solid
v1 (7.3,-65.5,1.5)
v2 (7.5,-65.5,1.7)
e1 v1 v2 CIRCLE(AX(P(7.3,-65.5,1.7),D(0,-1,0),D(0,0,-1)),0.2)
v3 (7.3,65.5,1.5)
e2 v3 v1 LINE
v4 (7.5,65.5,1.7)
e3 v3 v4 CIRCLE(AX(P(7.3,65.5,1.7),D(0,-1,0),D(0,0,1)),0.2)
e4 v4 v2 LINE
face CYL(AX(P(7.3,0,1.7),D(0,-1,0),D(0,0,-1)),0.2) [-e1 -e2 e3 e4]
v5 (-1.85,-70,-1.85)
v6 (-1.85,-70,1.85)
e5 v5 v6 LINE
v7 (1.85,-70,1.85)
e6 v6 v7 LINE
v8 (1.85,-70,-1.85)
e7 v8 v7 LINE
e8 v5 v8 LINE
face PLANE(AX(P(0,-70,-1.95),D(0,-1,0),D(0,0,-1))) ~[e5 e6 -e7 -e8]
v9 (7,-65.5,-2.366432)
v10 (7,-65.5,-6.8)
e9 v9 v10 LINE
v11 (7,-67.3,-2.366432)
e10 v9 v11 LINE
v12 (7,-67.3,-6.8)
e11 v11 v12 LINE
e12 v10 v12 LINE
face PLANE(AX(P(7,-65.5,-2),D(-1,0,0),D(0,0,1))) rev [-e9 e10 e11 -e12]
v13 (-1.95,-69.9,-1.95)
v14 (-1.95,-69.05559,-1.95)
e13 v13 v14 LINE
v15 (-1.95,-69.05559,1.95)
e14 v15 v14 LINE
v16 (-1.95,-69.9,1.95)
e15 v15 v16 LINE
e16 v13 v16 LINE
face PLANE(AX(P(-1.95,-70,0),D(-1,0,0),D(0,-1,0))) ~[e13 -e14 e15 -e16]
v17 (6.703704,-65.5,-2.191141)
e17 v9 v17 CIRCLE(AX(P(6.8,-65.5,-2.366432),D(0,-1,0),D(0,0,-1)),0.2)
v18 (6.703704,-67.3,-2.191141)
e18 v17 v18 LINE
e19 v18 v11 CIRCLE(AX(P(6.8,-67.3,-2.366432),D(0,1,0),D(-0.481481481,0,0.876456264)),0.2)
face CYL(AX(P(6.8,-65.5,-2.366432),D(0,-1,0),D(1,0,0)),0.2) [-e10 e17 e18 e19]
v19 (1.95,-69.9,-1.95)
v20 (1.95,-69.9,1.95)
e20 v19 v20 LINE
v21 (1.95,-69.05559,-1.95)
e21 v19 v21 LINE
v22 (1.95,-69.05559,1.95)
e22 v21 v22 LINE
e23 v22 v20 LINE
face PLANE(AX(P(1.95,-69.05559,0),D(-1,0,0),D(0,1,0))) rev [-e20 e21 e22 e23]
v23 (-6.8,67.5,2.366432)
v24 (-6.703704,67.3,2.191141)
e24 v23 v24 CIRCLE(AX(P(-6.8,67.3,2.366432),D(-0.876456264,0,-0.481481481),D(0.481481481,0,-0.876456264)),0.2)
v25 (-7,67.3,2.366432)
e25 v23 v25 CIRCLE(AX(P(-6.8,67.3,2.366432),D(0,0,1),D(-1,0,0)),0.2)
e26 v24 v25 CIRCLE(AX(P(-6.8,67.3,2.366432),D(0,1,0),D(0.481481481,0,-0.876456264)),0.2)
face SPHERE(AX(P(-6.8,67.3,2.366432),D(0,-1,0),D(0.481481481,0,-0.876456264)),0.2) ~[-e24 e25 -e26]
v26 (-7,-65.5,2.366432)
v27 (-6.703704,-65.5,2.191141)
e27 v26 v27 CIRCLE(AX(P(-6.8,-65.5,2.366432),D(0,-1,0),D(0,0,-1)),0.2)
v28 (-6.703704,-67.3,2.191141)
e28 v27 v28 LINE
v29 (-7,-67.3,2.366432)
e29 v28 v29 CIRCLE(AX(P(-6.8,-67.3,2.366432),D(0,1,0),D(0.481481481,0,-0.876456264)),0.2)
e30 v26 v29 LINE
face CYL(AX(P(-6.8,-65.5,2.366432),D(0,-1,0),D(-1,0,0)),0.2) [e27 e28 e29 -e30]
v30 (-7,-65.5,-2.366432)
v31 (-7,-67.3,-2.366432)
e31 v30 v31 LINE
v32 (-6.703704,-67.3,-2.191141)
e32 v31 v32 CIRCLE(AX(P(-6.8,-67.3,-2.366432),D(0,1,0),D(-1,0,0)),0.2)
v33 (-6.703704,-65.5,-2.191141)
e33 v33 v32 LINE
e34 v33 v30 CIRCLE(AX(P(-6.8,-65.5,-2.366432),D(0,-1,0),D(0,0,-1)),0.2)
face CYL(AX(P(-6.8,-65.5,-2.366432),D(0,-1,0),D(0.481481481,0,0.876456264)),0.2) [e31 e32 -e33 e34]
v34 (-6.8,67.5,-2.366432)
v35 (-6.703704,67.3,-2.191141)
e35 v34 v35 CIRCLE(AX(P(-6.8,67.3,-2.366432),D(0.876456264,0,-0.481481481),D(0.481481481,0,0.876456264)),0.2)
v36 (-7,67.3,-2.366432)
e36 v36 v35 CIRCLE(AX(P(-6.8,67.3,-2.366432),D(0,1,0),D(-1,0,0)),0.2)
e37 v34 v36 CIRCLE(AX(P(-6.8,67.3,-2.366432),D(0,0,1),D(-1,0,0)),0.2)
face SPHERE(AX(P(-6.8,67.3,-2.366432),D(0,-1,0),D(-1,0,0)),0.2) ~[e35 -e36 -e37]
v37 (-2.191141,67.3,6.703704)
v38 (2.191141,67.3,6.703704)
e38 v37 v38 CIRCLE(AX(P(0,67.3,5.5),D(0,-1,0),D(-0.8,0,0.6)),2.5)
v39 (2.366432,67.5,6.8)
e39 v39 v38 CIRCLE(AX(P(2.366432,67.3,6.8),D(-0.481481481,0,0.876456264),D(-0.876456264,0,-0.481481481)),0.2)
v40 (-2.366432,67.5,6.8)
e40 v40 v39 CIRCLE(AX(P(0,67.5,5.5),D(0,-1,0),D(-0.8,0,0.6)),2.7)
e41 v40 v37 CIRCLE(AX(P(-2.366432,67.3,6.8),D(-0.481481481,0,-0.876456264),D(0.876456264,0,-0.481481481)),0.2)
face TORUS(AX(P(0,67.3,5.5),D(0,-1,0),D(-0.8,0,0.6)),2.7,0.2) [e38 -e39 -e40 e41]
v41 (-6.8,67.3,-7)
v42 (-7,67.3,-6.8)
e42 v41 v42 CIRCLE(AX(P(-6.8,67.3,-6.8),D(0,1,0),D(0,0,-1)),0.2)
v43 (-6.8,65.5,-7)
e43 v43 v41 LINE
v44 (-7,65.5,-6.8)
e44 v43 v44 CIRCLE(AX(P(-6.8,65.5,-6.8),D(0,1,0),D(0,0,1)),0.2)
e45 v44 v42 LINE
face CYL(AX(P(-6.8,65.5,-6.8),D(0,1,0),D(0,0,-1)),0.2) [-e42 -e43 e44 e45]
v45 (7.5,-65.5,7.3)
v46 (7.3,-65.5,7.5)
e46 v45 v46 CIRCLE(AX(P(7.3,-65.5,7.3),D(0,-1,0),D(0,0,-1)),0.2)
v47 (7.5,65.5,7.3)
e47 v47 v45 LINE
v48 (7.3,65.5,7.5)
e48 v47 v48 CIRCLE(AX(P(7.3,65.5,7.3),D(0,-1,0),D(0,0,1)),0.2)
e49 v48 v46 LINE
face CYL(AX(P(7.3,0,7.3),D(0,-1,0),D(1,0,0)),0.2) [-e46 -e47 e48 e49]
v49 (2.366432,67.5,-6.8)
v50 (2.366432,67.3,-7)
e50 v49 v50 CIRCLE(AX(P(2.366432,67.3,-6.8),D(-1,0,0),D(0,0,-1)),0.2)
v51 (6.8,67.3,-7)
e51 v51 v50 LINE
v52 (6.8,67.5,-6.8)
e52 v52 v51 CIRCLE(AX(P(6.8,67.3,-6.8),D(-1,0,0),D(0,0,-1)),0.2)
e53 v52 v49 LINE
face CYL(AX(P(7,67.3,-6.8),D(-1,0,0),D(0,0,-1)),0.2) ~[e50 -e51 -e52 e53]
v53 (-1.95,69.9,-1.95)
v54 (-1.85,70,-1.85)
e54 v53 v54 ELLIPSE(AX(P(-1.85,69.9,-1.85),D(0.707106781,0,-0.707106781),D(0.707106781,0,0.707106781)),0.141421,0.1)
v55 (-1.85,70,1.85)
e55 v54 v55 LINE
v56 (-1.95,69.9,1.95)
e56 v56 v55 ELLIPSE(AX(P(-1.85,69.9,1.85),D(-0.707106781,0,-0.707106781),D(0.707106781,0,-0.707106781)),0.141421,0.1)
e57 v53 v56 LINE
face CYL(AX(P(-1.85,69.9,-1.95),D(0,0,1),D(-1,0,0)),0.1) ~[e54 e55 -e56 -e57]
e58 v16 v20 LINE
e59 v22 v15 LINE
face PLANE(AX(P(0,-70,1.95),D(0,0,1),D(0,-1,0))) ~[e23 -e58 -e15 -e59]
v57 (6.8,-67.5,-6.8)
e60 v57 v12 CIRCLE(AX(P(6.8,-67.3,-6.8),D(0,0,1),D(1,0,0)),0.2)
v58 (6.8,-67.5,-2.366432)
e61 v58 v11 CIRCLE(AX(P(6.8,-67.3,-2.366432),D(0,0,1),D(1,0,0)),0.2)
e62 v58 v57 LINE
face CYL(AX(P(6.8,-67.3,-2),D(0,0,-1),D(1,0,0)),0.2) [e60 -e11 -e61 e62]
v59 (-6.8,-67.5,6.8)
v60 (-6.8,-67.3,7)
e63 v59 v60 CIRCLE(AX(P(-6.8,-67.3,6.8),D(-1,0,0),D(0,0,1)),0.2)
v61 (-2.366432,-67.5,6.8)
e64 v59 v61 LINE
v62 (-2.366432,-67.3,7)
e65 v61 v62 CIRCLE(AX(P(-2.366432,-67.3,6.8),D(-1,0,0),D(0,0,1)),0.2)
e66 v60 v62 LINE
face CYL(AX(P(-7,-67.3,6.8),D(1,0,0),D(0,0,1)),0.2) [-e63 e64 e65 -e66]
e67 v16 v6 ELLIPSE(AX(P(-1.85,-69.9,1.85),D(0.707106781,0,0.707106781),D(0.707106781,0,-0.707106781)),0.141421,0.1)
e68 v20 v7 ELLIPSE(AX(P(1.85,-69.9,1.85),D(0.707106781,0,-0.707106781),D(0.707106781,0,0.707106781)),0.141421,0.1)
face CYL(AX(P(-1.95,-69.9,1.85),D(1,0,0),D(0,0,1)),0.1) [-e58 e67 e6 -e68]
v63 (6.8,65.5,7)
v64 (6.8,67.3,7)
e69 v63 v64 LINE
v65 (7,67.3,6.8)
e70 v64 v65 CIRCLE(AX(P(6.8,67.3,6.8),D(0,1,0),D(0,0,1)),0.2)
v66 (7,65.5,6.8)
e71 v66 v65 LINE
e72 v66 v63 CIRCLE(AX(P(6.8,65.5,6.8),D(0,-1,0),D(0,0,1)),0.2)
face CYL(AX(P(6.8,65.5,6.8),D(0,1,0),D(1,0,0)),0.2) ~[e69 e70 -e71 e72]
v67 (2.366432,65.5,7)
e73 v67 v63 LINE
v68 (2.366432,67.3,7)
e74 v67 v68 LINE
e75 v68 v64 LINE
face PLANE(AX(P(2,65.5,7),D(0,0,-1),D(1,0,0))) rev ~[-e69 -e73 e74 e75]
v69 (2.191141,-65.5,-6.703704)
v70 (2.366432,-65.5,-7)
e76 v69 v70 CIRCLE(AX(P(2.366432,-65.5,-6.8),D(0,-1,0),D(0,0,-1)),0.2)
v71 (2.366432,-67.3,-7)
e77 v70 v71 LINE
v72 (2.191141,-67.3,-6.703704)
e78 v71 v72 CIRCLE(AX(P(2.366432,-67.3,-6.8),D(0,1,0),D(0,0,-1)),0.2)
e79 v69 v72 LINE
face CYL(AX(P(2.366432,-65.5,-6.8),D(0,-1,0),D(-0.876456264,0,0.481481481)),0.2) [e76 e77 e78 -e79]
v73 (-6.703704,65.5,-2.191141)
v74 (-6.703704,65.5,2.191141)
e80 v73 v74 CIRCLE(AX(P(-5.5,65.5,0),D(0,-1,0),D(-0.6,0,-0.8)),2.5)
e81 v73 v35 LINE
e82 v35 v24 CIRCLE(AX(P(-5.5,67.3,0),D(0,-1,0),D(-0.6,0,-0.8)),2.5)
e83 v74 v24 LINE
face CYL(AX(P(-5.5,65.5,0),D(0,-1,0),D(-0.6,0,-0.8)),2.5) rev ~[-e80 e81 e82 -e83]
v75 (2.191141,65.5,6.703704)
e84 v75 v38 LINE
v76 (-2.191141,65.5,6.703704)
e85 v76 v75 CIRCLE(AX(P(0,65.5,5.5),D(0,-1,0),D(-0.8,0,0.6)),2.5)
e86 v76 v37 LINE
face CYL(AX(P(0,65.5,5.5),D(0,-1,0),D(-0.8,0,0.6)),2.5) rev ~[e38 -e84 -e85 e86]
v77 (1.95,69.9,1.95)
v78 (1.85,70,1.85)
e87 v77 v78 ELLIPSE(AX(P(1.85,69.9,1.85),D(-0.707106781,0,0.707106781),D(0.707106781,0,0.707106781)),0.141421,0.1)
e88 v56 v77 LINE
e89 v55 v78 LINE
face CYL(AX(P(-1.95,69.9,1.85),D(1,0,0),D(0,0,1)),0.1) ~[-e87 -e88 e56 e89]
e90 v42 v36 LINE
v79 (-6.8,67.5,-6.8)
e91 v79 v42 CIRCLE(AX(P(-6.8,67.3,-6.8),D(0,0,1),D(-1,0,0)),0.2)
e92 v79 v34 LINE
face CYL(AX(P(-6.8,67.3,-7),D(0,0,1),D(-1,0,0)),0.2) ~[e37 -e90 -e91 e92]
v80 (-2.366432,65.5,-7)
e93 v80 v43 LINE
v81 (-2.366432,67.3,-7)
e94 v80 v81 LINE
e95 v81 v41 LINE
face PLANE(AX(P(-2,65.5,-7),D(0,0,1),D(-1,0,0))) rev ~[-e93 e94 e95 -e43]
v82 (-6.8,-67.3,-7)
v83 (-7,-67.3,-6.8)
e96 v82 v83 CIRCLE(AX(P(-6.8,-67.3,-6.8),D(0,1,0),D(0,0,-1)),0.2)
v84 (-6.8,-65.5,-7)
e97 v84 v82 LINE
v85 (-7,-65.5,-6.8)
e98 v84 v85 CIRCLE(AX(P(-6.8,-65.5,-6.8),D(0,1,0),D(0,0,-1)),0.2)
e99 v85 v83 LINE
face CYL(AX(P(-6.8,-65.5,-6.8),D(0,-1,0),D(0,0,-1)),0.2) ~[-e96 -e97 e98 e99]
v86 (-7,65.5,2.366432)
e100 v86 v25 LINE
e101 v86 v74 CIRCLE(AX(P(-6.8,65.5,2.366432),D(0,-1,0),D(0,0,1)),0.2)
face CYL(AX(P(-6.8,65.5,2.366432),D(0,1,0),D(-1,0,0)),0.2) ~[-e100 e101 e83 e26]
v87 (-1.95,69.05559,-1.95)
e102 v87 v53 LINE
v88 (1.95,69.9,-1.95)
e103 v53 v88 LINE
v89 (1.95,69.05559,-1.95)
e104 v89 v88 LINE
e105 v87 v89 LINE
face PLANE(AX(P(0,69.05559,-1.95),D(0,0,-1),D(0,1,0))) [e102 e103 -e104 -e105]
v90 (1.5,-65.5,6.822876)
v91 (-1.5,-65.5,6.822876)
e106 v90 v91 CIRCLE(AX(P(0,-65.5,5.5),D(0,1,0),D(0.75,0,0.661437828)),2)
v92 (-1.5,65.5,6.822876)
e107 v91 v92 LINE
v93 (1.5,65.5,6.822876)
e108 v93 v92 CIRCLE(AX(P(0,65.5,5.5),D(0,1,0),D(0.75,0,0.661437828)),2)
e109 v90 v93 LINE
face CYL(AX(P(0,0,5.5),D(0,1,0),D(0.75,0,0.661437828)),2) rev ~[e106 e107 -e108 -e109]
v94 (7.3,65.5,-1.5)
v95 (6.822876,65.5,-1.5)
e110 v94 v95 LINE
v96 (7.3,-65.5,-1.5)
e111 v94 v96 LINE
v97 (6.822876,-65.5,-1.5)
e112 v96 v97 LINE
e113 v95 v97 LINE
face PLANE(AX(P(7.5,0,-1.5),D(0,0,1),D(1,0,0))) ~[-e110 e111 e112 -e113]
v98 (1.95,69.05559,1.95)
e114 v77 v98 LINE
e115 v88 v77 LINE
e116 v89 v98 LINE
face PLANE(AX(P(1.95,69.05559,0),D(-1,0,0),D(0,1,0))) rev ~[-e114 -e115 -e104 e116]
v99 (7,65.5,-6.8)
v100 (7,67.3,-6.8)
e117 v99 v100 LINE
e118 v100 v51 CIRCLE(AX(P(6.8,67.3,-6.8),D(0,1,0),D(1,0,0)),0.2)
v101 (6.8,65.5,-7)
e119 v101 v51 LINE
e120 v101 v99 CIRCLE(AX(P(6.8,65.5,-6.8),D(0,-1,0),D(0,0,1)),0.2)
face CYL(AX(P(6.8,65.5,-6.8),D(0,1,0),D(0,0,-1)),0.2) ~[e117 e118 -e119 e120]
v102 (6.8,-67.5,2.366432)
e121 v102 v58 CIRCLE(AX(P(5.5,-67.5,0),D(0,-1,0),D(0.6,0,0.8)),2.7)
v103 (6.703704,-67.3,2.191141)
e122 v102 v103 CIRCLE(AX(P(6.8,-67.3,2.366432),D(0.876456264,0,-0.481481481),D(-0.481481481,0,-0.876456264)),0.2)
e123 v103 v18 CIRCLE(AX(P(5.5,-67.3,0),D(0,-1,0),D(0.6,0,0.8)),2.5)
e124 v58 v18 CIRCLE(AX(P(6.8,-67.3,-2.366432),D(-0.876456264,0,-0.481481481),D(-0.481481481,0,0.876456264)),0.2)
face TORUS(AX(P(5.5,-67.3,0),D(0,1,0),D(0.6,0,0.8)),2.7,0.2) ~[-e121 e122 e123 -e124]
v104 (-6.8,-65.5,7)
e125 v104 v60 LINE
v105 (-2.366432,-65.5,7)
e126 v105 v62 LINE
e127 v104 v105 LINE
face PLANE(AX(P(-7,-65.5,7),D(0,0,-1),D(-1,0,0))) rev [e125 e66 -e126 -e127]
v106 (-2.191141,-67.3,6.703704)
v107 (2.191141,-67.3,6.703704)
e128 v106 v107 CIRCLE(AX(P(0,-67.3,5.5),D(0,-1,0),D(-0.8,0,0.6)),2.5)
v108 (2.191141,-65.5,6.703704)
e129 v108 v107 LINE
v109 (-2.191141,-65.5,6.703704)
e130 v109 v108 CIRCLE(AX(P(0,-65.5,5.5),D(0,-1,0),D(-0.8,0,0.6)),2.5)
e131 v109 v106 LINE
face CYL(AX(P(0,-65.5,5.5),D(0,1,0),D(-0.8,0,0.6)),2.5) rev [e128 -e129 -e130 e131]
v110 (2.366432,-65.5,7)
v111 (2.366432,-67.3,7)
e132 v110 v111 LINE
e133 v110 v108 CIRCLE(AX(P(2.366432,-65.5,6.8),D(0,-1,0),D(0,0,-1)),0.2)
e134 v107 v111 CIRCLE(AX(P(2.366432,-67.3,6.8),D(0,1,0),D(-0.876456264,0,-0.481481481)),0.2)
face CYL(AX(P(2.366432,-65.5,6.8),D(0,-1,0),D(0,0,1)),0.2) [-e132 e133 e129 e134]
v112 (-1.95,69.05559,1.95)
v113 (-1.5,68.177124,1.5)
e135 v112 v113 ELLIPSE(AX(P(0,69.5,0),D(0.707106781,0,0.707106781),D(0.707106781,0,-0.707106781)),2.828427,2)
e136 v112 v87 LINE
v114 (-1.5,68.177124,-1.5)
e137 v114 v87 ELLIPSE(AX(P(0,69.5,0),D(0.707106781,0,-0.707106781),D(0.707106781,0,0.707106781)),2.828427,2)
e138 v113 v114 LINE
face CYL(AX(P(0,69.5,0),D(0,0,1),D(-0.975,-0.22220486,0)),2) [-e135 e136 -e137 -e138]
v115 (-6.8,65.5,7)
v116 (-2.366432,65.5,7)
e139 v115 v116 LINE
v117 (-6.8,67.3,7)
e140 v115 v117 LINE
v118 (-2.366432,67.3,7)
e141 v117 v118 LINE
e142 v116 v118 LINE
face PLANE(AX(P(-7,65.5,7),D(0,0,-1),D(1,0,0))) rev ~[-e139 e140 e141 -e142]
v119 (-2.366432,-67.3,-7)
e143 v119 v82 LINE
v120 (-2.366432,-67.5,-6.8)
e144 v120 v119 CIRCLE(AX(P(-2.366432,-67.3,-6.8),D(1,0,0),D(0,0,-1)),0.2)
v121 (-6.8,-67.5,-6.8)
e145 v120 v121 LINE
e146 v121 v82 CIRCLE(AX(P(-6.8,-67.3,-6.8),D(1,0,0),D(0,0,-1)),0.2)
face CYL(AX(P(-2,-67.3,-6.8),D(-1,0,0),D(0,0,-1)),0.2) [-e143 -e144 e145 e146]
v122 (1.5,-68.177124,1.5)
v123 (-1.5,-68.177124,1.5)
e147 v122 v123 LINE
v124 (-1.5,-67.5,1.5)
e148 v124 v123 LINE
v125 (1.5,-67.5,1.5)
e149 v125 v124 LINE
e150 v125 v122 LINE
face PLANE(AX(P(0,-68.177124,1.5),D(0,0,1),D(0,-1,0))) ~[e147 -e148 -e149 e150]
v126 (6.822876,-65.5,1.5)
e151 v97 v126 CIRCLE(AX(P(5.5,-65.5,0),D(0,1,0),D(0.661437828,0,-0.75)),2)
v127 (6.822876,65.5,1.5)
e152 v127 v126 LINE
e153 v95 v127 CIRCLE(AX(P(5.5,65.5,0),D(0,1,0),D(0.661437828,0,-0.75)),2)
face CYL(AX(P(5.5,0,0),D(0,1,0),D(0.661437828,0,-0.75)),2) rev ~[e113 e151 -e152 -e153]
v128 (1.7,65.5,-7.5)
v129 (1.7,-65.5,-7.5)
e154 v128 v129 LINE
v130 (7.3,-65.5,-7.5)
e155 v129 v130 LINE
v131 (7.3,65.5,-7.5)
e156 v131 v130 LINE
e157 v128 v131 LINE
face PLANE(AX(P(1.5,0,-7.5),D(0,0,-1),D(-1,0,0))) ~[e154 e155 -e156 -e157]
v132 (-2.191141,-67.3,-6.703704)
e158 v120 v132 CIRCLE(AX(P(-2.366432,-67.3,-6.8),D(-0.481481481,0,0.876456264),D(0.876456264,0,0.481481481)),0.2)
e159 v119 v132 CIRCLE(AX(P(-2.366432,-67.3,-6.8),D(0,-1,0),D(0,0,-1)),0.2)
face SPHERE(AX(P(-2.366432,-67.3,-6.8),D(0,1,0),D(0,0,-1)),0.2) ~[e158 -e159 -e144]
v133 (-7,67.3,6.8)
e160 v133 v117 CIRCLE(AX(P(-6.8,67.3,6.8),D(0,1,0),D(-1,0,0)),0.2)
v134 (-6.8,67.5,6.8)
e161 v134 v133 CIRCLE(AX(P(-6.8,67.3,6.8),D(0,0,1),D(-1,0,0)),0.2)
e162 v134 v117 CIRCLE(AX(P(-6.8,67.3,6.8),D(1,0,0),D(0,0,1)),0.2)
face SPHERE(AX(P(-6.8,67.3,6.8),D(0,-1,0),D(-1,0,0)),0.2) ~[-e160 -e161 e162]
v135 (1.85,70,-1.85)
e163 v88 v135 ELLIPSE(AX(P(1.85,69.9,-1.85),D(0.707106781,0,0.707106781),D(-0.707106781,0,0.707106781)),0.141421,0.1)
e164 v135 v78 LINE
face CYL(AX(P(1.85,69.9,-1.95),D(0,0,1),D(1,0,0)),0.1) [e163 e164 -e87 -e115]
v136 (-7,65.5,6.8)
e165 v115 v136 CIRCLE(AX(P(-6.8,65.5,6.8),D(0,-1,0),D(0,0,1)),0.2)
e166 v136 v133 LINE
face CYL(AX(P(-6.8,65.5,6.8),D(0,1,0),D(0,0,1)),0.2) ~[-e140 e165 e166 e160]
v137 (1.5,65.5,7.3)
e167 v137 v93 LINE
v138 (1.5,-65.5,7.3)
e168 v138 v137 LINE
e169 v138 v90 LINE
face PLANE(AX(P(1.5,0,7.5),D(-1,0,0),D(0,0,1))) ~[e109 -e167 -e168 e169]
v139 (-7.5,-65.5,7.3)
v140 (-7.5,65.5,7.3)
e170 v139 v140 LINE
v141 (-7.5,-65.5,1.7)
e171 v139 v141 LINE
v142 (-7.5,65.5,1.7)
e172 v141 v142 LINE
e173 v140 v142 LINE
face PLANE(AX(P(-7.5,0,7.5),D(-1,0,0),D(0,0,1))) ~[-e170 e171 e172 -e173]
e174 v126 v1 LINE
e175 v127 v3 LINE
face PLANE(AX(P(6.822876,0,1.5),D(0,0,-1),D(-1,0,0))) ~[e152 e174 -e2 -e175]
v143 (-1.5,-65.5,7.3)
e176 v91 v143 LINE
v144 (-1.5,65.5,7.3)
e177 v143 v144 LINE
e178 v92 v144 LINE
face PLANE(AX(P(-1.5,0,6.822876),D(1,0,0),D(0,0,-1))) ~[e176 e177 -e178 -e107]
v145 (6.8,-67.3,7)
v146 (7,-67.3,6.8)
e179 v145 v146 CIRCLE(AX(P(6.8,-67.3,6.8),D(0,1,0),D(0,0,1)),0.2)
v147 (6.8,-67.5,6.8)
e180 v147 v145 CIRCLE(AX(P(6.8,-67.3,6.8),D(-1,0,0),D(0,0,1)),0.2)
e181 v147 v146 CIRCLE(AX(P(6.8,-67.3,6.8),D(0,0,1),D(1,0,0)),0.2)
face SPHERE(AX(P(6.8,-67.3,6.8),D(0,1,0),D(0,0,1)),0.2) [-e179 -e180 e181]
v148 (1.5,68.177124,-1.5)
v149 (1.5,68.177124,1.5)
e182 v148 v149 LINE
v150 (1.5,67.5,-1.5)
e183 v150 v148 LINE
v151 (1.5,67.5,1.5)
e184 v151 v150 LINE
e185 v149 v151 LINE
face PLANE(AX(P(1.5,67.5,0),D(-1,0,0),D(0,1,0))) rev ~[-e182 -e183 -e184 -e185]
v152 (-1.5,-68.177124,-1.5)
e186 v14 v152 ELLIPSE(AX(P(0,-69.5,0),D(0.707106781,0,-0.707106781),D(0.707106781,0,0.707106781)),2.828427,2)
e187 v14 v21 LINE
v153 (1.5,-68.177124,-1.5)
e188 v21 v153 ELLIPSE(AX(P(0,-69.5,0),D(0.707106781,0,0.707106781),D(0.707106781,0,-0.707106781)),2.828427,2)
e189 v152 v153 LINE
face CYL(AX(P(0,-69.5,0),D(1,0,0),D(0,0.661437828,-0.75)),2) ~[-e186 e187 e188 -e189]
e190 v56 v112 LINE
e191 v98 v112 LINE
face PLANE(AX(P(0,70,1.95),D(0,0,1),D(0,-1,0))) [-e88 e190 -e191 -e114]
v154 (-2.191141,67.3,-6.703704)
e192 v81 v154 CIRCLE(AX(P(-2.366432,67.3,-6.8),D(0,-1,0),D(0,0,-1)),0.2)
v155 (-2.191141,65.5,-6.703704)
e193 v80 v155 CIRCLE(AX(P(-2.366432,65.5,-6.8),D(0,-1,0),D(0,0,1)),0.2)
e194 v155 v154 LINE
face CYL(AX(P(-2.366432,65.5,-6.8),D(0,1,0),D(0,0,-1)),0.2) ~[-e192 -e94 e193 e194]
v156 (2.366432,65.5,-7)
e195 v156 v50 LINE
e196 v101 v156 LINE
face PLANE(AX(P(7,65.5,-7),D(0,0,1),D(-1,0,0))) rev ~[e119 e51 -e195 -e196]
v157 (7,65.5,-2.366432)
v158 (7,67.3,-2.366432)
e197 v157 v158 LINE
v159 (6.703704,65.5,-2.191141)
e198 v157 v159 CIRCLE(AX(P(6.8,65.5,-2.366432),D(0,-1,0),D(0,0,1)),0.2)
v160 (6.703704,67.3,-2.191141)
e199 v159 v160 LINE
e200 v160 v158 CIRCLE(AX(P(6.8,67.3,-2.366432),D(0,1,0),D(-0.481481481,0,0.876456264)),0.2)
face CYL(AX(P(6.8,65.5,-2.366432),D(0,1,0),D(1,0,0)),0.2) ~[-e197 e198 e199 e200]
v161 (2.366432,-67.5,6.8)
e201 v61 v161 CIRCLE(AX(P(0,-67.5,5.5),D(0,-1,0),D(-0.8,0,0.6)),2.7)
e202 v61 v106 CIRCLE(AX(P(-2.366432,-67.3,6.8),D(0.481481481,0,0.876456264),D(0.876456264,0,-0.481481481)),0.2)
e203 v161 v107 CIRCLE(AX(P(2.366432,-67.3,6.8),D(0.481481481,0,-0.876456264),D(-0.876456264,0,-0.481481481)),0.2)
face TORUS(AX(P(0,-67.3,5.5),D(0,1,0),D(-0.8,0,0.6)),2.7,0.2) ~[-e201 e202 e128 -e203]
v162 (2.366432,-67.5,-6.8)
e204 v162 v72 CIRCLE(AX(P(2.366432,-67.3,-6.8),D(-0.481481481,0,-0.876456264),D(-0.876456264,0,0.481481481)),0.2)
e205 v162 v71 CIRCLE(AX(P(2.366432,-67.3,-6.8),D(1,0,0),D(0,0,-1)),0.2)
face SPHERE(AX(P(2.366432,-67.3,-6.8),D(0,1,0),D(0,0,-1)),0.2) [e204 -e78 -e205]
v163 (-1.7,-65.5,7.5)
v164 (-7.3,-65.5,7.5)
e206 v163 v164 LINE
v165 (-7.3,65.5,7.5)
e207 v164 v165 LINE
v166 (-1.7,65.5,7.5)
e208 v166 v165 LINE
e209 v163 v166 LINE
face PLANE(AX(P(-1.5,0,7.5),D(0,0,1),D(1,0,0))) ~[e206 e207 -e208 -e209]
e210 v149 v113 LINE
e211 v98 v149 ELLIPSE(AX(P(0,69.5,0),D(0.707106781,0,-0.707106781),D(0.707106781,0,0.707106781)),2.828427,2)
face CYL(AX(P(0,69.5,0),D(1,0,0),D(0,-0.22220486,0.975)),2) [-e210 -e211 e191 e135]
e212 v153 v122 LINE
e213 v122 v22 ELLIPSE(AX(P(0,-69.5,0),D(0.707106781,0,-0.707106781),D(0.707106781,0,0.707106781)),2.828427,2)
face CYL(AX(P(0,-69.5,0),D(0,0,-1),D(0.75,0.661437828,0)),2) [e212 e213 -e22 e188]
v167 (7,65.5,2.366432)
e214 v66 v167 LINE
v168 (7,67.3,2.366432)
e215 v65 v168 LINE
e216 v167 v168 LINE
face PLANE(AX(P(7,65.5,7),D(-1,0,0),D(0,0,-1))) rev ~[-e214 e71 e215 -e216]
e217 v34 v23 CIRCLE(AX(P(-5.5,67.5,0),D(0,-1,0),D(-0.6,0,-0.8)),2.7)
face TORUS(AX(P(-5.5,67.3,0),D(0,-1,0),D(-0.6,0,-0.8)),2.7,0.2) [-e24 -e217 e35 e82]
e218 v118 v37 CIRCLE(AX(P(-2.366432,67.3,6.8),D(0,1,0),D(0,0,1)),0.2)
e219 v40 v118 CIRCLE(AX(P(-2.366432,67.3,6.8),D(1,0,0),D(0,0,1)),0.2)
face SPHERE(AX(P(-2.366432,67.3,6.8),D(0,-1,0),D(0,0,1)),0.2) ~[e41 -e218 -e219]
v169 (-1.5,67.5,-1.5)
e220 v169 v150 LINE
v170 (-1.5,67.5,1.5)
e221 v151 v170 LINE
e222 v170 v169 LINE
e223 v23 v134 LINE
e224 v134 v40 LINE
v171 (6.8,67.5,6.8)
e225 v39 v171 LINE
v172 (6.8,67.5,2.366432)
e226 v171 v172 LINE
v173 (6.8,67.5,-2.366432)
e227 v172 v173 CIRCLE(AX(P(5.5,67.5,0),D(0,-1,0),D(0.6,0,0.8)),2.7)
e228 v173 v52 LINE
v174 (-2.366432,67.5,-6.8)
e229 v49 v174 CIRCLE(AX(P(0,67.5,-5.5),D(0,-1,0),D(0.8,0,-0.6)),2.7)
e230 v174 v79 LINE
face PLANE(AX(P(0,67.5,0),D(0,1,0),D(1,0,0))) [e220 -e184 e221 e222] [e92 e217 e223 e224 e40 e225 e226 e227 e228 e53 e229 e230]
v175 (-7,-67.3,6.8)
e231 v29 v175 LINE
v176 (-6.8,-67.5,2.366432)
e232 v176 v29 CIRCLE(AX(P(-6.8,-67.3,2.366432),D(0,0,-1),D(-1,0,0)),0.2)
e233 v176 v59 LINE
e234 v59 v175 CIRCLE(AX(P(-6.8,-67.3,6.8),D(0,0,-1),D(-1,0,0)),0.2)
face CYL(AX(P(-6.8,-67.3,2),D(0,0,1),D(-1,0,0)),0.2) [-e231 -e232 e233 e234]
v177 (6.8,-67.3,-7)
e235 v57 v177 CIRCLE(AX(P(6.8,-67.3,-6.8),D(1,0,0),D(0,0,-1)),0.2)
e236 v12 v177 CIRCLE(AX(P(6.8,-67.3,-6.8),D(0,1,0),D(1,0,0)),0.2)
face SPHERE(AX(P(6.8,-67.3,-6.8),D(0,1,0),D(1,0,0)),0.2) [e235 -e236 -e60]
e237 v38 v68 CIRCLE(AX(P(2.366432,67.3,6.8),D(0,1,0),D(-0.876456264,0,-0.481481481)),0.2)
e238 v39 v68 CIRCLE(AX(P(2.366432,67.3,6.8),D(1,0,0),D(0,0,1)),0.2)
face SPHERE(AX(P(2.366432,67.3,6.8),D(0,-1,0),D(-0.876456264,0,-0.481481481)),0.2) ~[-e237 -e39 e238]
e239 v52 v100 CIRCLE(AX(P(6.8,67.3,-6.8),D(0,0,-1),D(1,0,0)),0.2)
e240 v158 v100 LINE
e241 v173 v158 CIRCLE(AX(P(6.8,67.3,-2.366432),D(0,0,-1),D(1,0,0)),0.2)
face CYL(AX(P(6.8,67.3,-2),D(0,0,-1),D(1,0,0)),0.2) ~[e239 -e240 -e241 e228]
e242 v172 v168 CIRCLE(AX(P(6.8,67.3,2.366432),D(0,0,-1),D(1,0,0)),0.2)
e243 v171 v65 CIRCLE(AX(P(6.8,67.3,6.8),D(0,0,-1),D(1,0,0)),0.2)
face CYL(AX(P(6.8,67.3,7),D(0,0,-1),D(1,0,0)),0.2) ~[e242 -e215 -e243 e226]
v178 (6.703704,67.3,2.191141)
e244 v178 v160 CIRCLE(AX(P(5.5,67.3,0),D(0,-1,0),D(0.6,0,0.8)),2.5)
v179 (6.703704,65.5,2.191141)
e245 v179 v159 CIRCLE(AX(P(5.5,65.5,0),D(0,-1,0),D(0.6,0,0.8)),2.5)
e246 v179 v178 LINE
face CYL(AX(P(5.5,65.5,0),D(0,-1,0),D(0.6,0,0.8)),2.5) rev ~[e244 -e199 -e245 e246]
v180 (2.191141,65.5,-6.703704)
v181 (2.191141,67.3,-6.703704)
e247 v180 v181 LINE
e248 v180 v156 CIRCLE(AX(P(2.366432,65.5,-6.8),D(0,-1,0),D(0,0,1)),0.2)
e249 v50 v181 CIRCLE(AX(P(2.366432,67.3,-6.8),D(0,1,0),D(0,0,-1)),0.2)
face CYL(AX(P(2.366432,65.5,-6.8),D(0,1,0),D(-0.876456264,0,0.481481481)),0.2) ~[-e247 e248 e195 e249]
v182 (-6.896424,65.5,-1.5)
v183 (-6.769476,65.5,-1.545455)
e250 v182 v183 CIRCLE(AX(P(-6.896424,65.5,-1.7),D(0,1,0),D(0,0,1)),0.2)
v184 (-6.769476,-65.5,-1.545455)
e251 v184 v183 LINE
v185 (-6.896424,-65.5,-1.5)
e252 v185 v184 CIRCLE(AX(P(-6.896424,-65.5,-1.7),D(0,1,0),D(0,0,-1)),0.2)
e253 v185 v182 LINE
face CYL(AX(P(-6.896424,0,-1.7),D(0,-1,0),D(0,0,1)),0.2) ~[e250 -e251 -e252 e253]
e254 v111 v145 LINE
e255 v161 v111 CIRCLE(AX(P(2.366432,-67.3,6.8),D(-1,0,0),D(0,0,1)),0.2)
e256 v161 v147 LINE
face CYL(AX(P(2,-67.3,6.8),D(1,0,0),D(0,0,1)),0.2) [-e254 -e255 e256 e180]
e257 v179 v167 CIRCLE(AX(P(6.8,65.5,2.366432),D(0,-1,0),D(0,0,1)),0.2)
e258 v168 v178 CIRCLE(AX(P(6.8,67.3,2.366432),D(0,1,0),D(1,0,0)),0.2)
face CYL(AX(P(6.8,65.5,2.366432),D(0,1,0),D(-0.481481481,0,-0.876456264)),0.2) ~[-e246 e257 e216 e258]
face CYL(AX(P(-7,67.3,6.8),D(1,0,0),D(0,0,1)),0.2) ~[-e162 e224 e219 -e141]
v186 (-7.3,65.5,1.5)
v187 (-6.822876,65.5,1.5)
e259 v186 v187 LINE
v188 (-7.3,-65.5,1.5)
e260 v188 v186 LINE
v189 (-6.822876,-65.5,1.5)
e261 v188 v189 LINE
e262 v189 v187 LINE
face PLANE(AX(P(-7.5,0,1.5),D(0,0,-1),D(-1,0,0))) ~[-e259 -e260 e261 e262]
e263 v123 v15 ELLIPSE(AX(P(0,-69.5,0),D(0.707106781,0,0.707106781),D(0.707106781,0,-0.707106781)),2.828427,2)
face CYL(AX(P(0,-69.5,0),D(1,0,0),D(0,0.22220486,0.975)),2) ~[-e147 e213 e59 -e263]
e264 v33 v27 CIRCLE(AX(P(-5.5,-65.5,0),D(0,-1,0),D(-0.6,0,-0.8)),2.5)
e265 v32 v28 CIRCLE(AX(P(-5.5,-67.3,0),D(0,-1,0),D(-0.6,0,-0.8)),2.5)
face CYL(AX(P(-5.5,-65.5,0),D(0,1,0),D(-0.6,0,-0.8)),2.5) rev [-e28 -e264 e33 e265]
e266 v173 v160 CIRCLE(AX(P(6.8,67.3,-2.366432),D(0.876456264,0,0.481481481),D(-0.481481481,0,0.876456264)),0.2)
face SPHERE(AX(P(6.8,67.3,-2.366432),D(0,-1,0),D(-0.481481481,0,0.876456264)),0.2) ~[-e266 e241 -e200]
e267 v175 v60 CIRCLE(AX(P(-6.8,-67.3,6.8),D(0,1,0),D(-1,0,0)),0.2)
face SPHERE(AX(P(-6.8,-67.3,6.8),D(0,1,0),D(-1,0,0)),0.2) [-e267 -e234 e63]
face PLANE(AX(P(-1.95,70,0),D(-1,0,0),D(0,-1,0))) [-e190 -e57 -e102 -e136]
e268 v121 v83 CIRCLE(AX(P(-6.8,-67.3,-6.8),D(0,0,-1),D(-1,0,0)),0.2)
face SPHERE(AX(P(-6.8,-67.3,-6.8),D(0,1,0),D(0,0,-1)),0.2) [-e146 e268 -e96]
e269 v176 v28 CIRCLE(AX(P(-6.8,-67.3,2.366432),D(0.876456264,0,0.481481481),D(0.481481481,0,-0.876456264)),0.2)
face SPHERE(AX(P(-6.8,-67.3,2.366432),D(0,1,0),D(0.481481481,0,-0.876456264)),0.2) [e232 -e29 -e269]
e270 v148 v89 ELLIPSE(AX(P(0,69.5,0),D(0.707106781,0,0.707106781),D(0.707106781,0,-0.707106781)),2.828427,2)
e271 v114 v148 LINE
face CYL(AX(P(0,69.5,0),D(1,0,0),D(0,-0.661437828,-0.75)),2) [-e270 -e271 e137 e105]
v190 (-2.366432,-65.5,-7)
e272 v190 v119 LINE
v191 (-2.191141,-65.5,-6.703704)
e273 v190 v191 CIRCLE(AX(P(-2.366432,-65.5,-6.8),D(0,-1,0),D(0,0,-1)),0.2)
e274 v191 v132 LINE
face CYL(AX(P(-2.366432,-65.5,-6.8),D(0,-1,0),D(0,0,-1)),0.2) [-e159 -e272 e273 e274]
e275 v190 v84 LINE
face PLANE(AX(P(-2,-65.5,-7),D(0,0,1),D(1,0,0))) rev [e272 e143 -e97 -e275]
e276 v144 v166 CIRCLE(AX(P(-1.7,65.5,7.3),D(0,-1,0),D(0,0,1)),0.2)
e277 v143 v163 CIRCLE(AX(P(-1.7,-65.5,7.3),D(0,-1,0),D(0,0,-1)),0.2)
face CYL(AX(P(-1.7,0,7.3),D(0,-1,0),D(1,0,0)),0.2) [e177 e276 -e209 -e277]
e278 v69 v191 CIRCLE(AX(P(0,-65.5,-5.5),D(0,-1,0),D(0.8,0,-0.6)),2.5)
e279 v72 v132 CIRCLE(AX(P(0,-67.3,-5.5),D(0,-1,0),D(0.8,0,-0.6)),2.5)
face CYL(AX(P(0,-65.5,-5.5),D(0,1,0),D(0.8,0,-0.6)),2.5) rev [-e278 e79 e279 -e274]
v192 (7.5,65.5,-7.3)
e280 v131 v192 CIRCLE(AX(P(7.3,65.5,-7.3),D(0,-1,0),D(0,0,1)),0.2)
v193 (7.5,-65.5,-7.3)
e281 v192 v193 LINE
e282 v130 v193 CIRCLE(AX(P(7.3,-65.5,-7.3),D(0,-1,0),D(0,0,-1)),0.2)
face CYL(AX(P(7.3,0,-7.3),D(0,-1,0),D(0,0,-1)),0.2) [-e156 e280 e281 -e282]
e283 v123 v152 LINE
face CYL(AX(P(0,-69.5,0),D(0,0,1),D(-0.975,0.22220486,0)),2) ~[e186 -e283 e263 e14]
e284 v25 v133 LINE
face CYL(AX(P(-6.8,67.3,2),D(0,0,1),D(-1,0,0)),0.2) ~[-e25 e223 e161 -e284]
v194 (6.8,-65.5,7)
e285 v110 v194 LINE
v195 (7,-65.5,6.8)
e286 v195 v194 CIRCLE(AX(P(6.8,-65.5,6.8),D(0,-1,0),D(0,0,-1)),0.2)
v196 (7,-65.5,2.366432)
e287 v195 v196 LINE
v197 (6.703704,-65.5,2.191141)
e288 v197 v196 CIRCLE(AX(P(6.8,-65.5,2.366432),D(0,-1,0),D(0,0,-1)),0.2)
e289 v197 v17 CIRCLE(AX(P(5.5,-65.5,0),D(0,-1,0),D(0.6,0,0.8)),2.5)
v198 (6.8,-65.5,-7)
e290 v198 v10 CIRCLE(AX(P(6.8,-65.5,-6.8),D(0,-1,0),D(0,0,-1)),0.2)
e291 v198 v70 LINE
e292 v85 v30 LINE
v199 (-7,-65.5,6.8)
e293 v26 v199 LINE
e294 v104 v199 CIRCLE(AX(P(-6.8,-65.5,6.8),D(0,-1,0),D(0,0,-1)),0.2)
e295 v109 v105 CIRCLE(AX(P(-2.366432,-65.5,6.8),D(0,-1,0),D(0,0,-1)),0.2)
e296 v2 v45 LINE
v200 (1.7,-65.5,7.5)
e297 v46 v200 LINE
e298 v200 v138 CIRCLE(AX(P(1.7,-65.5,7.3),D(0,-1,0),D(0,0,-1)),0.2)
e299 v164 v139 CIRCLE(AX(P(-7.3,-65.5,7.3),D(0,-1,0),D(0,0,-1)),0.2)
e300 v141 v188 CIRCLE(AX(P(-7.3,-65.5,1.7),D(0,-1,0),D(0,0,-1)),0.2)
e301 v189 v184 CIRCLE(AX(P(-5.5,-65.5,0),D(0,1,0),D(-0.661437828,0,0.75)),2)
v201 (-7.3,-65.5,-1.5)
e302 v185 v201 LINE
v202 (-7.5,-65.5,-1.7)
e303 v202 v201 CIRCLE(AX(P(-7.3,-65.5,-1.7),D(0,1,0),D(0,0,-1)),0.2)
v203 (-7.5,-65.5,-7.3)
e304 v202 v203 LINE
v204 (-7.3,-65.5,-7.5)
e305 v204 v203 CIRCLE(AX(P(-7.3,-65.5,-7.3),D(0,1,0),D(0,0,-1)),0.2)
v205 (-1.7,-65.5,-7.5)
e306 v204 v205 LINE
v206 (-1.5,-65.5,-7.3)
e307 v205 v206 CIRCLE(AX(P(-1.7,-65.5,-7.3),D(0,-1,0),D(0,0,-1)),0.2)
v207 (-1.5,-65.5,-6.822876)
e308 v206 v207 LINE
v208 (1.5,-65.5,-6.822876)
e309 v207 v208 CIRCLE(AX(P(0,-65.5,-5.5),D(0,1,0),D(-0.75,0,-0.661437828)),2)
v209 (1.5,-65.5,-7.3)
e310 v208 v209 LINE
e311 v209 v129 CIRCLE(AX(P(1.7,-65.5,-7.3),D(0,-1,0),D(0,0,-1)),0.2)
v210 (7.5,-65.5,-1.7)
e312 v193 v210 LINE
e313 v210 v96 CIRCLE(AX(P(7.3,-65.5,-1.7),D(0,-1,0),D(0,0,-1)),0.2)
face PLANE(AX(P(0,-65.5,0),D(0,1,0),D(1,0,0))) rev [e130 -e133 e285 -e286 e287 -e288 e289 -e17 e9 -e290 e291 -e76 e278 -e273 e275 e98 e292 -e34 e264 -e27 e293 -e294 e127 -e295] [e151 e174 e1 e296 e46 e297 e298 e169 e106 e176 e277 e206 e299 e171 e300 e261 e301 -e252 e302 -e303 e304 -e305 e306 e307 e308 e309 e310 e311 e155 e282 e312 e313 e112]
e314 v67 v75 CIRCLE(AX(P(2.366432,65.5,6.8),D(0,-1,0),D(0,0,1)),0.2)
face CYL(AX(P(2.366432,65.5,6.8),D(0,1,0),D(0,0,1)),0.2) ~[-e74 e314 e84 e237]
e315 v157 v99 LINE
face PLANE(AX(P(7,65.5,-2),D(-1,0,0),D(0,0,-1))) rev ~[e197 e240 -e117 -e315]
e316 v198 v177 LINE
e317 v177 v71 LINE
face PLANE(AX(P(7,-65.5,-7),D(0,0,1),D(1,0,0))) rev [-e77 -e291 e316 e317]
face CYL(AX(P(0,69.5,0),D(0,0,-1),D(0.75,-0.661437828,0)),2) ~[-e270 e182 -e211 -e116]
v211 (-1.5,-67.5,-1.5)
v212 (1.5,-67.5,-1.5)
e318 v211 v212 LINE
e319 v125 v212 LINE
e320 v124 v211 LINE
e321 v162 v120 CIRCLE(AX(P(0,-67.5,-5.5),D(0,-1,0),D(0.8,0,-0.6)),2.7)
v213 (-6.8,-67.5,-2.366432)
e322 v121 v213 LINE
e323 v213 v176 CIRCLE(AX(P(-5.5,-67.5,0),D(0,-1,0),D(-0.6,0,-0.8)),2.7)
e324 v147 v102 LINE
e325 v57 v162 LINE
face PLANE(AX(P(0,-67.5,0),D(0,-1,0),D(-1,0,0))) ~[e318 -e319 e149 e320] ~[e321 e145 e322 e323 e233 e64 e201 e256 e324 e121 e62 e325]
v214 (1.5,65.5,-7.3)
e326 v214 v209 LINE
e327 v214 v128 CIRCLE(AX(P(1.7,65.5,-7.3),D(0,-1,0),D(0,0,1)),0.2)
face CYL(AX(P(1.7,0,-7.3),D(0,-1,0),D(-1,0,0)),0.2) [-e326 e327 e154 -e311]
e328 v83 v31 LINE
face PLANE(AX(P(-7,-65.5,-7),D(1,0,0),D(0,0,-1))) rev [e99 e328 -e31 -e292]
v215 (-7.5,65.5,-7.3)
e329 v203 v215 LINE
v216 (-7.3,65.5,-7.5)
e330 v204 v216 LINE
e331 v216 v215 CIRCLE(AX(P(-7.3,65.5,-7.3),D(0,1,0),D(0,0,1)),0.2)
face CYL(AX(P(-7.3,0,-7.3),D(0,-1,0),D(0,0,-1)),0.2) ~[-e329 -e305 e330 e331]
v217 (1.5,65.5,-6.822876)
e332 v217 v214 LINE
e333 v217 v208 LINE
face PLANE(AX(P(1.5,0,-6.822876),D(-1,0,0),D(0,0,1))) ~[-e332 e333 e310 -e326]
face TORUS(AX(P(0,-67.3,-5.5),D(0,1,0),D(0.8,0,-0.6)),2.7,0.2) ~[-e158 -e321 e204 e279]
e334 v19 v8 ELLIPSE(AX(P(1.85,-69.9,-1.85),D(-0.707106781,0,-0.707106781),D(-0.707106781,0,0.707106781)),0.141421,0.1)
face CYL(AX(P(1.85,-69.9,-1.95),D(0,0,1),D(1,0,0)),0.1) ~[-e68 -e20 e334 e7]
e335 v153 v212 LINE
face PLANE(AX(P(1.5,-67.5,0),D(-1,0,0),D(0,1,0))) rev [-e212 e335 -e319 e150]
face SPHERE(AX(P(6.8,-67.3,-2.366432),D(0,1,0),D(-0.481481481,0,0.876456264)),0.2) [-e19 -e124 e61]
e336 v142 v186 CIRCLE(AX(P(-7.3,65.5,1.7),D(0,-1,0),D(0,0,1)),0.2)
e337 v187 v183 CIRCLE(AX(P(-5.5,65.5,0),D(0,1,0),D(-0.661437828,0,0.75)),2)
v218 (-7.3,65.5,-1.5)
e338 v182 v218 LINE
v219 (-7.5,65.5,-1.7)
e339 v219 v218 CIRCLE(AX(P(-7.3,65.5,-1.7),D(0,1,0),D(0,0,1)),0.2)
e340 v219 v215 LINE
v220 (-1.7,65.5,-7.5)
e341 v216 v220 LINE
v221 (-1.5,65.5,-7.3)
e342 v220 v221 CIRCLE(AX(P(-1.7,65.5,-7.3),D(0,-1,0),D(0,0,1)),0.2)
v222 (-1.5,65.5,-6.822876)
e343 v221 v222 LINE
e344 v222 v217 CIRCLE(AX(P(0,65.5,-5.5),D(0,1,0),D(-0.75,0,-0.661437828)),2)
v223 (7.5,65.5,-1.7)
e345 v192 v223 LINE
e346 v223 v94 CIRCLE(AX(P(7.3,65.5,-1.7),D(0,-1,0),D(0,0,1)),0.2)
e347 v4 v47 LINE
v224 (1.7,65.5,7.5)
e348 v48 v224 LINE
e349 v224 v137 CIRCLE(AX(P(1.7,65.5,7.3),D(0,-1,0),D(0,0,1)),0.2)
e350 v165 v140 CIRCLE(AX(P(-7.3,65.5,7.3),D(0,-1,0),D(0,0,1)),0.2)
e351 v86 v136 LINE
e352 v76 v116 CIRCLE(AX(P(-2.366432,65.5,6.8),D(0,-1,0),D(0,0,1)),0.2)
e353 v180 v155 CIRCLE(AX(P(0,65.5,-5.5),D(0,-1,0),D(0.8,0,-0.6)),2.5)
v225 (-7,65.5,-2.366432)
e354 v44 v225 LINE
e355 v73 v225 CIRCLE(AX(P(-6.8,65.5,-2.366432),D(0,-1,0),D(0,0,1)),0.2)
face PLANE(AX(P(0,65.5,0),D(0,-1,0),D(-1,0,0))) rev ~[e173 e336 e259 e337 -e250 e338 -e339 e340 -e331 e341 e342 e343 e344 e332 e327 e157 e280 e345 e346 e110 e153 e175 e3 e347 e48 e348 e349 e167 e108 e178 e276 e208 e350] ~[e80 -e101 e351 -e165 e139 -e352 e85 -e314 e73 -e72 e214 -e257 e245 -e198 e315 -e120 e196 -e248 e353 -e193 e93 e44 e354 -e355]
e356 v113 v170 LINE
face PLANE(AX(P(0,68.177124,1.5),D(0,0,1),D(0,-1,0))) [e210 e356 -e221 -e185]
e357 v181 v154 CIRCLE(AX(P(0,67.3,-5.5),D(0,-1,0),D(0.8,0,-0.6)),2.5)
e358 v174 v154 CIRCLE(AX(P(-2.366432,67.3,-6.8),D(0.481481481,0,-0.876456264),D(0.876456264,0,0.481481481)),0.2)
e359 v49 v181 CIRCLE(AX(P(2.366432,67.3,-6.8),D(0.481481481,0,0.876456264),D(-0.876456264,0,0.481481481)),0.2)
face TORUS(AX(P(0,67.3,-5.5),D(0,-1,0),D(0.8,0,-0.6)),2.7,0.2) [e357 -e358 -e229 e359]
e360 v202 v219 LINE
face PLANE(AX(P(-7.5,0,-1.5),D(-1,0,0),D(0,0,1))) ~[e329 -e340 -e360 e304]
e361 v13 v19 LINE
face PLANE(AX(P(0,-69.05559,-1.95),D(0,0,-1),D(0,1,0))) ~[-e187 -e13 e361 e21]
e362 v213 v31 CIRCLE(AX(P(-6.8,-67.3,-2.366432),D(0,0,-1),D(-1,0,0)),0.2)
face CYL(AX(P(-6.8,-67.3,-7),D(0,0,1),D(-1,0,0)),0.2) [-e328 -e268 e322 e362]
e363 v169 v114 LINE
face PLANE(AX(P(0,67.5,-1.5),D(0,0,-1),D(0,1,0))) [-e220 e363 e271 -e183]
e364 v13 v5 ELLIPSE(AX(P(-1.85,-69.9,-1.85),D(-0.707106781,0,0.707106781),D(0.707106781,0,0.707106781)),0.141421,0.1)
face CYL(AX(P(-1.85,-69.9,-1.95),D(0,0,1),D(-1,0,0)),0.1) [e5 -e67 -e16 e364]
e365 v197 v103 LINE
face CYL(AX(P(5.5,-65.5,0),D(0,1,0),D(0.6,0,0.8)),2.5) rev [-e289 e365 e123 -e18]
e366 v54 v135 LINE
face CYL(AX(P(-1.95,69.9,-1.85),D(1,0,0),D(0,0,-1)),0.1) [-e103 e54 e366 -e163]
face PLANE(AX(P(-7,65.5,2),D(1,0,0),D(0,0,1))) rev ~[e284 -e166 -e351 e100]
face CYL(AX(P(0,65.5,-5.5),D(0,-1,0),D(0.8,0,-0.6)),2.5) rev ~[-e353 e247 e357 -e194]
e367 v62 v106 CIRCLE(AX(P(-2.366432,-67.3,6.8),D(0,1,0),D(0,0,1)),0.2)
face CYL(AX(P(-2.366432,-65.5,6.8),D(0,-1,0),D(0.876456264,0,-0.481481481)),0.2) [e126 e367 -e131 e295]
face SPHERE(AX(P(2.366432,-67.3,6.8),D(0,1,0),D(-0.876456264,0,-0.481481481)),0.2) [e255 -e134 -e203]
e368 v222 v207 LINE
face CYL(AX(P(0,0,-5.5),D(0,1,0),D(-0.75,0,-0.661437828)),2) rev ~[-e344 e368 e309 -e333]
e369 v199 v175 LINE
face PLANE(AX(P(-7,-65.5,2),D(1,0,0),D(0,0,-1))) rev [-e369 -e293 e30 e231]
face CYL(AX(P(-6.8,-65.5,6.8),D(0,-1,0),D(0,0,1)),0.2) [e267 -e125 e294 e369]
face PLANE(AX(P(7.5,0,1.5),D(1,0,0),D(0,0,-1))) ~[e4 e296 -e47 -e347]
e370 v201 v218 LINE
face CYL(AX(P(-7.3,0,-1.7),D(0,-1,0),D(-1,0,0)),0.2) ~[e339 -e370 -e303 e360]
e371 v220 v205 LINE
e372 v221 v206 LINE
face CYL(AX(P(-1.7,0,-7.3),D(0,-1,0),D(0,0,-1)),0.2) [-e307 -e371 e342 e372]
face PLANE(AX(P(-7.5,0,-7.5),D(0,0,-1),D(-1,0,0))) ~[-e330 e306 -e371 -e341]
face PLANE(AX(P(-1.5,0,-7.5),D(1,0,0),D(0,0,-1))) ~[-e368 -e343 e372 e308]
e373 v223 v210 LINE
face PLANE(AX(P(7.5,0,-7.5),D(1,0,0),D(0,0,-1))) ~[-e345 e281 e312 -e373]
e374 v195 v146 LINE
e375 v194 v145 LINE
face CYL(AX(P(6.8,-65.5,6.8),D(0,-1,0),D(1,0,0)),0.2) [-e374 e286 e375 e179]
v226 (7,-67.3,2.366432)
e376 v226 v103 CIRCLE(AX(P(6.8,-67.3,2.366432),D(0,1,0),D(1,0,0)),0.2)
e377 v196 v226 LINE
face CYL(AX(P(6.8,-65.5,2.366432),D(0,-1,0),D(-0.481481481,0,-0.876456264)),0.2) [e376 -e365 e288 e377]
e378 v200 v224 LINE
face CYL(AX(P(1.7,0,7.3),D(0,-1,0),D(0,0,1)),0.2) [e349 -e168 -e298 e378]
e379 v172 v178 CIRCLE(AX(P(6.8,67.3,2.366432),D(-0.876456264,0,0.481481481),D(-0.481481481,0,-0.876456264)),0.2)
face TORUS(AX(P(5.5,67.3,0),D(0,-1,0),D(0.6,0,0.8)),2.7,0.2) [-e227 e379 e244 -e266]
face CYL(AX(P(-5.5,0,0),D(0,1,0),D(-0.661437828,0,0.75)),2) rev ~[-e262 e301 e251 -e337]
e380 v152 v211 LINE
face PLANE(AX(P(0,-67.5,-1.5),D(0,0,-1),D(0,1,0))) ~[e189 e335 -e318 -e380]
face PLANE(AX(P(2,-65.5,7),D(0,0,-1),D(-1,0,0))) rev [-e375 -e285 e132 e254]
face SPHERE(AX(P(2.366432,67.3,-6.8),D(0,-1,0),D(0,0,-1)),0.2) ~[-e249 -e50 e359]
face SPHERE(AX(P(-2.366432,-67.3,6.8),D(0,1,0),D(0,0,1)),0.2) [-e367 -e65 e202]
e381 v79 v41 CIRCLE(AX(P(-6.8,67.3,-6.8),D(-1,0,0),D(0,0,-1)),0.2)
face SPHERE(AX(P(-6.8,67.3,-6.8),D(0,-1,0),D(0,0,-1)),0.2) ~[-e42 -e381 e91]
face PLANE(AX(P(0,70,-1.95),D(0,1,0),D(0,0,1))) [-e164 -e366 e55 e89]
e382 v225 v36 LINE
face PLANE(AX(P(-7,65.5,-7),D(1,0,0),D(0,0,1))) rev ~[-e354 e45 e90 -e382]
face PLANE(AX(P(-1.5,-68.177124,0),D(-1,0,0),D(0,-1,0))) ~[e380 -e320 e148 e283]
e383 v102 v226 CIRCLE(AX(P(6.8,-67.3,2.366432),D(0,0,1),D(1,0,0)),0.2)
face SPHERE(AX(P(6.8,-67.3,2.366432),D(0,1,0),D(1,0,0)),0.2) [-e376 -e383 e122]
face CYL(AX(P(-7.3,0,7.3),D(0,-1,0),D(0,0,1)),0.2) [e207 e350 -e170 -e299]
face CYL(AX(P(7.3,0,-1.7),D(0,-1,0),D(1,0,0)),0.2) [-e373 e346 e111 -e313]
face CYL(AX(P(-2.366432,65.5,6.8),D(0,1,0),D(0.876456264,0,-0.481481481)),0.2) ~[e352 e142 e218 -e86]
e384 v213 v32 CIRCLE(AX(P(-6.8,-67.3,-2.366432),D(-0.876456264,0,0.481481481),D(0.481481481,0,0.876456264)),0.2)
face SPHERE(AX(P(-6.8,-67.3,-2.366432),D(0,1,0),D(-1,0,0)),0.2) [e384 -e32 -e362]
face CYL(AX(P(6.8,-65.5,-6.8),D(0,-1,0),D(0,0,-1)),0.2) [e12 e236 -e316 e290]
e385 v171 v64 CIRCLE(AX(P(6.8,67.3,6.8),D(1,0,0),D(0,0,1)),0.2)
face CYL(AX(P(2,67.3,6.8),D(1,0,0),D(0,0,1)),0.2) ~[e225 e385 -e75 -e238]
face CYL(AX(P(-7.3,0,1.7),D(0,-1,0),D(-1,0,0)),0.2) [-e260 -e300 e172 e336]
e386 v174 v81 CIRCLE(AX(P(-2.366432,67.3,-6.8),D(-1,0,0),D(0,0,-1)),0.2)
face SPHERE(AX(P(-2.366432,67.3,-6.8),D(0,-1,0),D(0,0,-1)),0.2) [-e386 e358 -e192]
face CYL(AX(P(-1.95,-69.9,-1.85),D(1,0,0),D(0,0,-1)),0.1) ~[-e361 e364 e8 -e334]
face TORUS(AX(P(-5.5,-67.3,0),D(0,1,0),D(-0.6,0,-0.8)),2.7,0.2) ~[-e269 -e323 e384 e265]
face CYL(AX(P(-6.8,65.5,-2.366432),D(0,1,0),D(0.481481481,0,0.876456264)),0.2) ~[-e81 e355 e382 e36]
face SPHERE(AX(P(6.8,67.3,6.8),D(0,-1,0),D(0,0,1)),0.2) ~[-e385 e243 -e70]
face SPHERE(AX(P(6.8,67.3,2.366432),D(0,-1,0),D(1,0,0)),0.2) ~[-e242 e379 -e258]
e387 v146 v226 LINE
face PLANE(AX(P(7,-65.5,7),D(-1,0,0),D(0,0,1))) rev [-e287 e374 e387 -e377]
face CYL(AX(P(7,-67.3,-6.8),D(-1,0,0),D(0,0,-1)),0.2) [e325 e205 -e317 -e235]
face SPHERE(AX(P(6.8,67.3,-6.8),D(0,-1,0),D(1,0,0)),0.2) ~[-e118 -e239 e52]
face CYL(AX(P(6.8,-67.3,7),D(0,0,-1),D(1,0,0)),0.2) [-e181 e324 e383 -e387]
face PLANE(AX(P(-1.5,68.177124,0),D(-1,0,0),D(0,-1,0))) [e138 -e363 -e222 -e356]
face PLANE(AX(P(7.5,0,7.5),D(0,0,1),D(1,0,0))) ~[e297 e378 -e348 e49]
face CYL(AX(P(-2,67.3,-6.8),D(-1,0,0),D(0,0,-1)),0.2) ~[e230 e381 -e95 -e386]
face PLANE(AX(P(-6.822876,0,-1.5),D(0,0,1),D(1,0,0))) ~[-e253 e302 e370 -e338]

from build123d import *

# Parameters (mm, degrees)
EXTRUDE_1_DEPTH        = 65.5
EXTRUDE_2_DEPTH        = 2
EXTRUDE_3_DEPTH        = 2
FILLET_3_R             = 0.2
CUT_EXTRUDE_1_DEPTH    = 3
FILLET_4_R             = 0.2
FILLET_5_R             = 0.1
FILLET_3_OF_MIRROR_1_R = 0.2
FILLET_4_OF_MIRROR_1_R = 0.2
FILLET_5_OF_MIRROR_1_R = 0.1


with BuildPart() as part:
    # 草图1 → 凸台-拉伸1 (new body)
    with BuildSketch(Plane(origin=(0, 0, 0), x_dir=(1, 0, 0), z_dir=(0, 1, 0))):
        with BuildLine():
            Line((-7.5, 7.5), (-1.5, 7.5))
            Line((-1.5, 7.5), (-1.5, 6.822875656))
            ThreePointArc((-1.5, 6.822875656), (0, 3.5), (1.5, 6.822875656))
            Line((1.5, 6.822875656), (1.5, 7.5))
            Line((1.5, 7.5), (7.5, 7.5))
            Line((7.5, 7.5), (7.5, 1.5))
            Line((7.5, 1.5), (6.822875656, 1.5))
            ThreePointArc((6.822875656, 1.5), (3.5, 0), (6.822875656, -1.5))
            Line((6.822875656, -1.5), (7.5, -1.5))
            Line((7.5, -1.5), (7.5, -7.5))
            Line((7.5, -7.5), (1.5, -7.5))
            Line((1.5, -7.5), (1.5, -6.822875656))
            ThreePointArc((1.5, -6.822875656), (0, -3.5), (-1.5, -6.822875656))
            Line((-1.5, -6.822875656), (-1.5, -7.5))
            Line((-1.5, -7.5), (-7.5, -7.5))
            Line((-7.5, -7.5), (-7.5, -1.5))
            Line((-7.5, -1.5), (-6.822875656, -1.5))
            ThreePointArc((-6.822875656, -1.5), (-3.5, 0), (-6.822875656, 1.5))
            Line((-6.822875656, 1.5), (-7.5, 1.5))
            Line((-7.5, 1.5), (-7.5, 7.5))
        make_face()
    extrude_1 = extrude(amount=EXTRUDE_1_DEPTH)

    # 草图2 → 凸台-拉伸2 (add)
    with BuildSketch(Plane(origin=(0, 65.5, 0), x_dir=(1, 0, 0), z_dir=(0, 1, 0))):
        with BuildLine():
            Line((-7, 7), (-7, 2))
            ThreePointArc((-7, 2), (-3, 0), (-7, -2))
            Line((-7, -2), (-7, -7))
            Line((-7, -7), (-2, -7))
            ThreePointArc((-2, -7), (0, -3), (2, -7))
            Line((2, -7), (7, -7))
            Line((7, -7), (7, -2))
            ThreePointArc((7, -2), (3, 0), (7, 2))
            Line((7, 2), (7, 7))
            Line((7, 7), (2, 7))
            ThreePointArc((2, 7), (0, 3), (-2, 7))
            Line((-2, 7), (-7, 7))
        make_face()
    extrude_2 = extrude(amount=EXTRUDE_2_DEPTH)

    # 草图3 → 凸台-拉伸3 (add, symmetric)
    with BuildSketch(Plane(origin=(0, 0, 0), x_dir=(0, 0, -1), z_dir=(1, 0, 0))):
        with BuildLine():
            Line((-1.5, 67.5), (1.5, 67.5))
            Line((1.5, 67.5), (1.5, 68.177124344))
            ThreePointArc((1.5, 68.177124344), (1.780042303, 68.588161527), (1.95, 69.055590279))
            Line((1.95, 69.055590279), (1.95, 70))
            Line((1.95, 70), (-1.95, 70))
            Line((-1.95, 70), (-1.95, 69.055590279))
            ThreePointArc((-1.95, 69.055590279), (-1.780042303, 68.588161527), (-1.5, 68.177124344))
            Line((-1.5, 68.177124344), (-1.5, 67.5))
        make_face()
    extrude_3 = extrude(amount=EXTRUDE_3_DEPTH, both=True)

    # 圆角3
    fillet_3_edges = [part.edges().sort_by_distance(p)[0] for p in [
        (-7.5, 32.75, -7.5),
        (-1.5, 32.75, -7.5),
        (1.5, 32.75, -7.5),
        (7.5, 32.75, -7.5),
        (7.5, 32.75, -1.5),
        (7.5, 32.75, 1.5),
        (7.5, 32.75, 7.5),
        (1.5, 32.75, 7.5),
        (-1.5, 32.75, 7.5),
        (-7.5, 32.75, 7.5),
        (-7.5, 32.75, 1.5),
        (-6.822875656, 32.75, -1.5),
        (-7.5, 32.75, -1.5),
    ]]
    fillet(fillet_3_edges, radius=FILLET_3_R)

    # 草图4 → 切除-拉伸1 (cut, symmetric)
    with BuildSketch(Plane.XY):
        with BuildLine():
            Line((1.95, 70), (2, 70))
            Line((2, 70), (2, 67.5))
            Line((2, 67.5), (1.5, 67.5))
            Line((1.5, 67.5), (1.5, 68.177124344))
            ThreePointArc((1.5, 68.177124344), (1.780042303, 68.588161527), (1.95, 69.055590279))
            Line((1.95, 69.055590279), (1.95, 70))
        make_face()
        with BuildLine():
            Line((-1.95, 70), (-1.95, 69.055590279))
            ThreePointArc((-1.95, 69.055590279), (-1.780042303, 68.588161527), (-1.5, 68.177124344))
            Line((-1.5, 68.177124344), (-1.5, 67.5))
            Line((-1.5, 67.5), (-2, 67.5))
            Line((-2, 67.5), (-2, 70))
            Line((-2, 70), (-1.95, 70))
        make_face()
    cut_extrude_1 = extrude(amount=CUT_EXTRUDE_1_DEPTH, both=True, mode=Mode.SUBTRACT)

    # 圆角4
    fillet_4_edges = [part.edges().sort_by_distance(p)[0] for p in [
        (-2, 66.5, -7),
        (-7, 66.5, -7),
        (-7, 66.5, -2),
        (-7, 66.5, 2),
        (-7, 66.5, 7),
        (-2, 66.5, 7),
        (2, 66.5, 7),
        (7, 66.5, 7),
        (7, 66.5, 2),
        (7, 66.5, -2),
        (7, 66.5, -7),
        (2, 66.5, -7),
        (-4.5, 67.5, -7),
        (-7, 67.5, -4.5),
        (-3, 67.5, 0),
        (-7, 67.5, 4.5),
        (-4.5, 67.5, 7),
        (0, 67.5, 3),
        (4.5, 67.5, 7),
        (7, 67.5, 4.5),
        (3, 67.5, 0),
        (7, 67.5, -4.5),
        (4.5, 67.5, -7),
        (0, 67.5, -3),
    ]]
    fillet(fillet_4_edges, radius=FILLET_4_R)

    # 圆角5
    fillet_5_edges = [part.edges().sort_by_distance(p)[0] for p in [
        (1.95, 70, 0),
        (0, 70, -1.95),
        (0, 70, 1.95),
        (-1.95, 70, 0),
    ]]
    fillet(fillet_5_edges, radius=FILLET_5_R)


with BuildPart() as mirror_1_1:
    # 镜向1: 凸台-拉伸1, 凸台-拉伸2, 凸台-拉伸3 across Top Plane
    add(extrude_1.mirror(Plane(origin=(0, 0, 0), x_dir=(1, 0, 0), z_dir=(0, 1, 0))))
    add(extrude_2.mirror(Plane(origin=(0, 0, 0), x_dir=(1, 0, 0), z_dir=(0, 1, 0))))
    add(extrude_3.mirror(Plane(origin=(0, 0, 0), x_dir=(1, 0, 0), z_dir=(0, 1, 0))))

    # Mirror 1 2: 切除-拉伸1 across Top Plane
    add(cut_extrude_1.mirror(Plane(origin=(0, 0, 0), x_dir=(1, 0, 0), z_dir=(0, 1, 0))), mode=Mode.SUBTRACT)

    # 圆角3 of 镜向1
    fillet_3_of_mirror_1_edges = [mirror_1_1.edges().sort_by_distance(p)[0] for p in [
        (-7.5, -32.75, -7.5),
        (-1.5, -32.75, -7.5),
        (1.5, -32.75, -7.5),
        (7.5, -32.75, -7.5),
        (7.5, -32.75, -1.5),
        (7.5, -32.75, 1.5),
        (7.5, -32.75, 7.5),
        (1.5, -32.75, 7.5),
        (-1.5, -32.75, 7.5),
        (-7.5, -32.75, 7.5),
        (-7.5, -32.75, 1.5),
        (-6.822875656, -32.75, -1.5),
        (-7.5, -32.75, -1.5),
    ]]
    fillet(fillet_3_of_mirror_1_edges, radius=FILLET_3_OF_MIRROR_1_R)

    # 圆角4 of 镜向1
    fillet_4_of_mirror_1_edges = [mirror_1_1.edges().sort_by_distance(p)[0] for p in [
        (-2, -66.5, -7),
        (-7, -66.5, -7),
        (-7, -66.5, -2),
        (-7, -66.5, 2),
        (-7, -66.5, 7),
        (-2, -66.5, 7),
        (2, -66.5, 7),
        (7, -66.5, 7),
        (7, -66.5, 2),
        (7, -66.5, -2),
        (7, -66.5, -7),
        (2, -66.5, -7),
        (-4.5, -67.5, -7),
        (-7, -67.5, -4.5),
        (-3, -67.5, 0),
        (-7, -67.5, 4.5),
        (-4.5, -67.5, 7),
        (0, -67.5, 3),
        (4.5, -67.5, 7),
        (7, -67.5, 4.5),
        (3, -67.5, 0),
        (7, -67.5, -4.5),
        (4.5, -67.5, -7),
        (0, -67.5, -3),
    ]]
    fillet(fillet_4_of_mirror_1_edges, radius=FILLET_4_OF_MIRROR_1_R)

    # 圆角5 of 镜向1
    fillet_5_of_mirror_1_edges = [mirror_1_1.edges().sort_by_distance(p)[0] for p in [
        (1.95, -70, 0),
        (0, -70, -1.95),
        (0, -70, 1.95),
        (-1.95, -70, 0),
    ]]
    fillet(fillet_5_of_mirror_1_edges, radius=FILLET_5_OF_MIRROR_1_R)


with BuildPart() as part_1:
    add(part.part)

    # 镜向1 united with what the copies tou: union 镜向1_1
    add(mirror_1_1.part)


solid = part_1.part
